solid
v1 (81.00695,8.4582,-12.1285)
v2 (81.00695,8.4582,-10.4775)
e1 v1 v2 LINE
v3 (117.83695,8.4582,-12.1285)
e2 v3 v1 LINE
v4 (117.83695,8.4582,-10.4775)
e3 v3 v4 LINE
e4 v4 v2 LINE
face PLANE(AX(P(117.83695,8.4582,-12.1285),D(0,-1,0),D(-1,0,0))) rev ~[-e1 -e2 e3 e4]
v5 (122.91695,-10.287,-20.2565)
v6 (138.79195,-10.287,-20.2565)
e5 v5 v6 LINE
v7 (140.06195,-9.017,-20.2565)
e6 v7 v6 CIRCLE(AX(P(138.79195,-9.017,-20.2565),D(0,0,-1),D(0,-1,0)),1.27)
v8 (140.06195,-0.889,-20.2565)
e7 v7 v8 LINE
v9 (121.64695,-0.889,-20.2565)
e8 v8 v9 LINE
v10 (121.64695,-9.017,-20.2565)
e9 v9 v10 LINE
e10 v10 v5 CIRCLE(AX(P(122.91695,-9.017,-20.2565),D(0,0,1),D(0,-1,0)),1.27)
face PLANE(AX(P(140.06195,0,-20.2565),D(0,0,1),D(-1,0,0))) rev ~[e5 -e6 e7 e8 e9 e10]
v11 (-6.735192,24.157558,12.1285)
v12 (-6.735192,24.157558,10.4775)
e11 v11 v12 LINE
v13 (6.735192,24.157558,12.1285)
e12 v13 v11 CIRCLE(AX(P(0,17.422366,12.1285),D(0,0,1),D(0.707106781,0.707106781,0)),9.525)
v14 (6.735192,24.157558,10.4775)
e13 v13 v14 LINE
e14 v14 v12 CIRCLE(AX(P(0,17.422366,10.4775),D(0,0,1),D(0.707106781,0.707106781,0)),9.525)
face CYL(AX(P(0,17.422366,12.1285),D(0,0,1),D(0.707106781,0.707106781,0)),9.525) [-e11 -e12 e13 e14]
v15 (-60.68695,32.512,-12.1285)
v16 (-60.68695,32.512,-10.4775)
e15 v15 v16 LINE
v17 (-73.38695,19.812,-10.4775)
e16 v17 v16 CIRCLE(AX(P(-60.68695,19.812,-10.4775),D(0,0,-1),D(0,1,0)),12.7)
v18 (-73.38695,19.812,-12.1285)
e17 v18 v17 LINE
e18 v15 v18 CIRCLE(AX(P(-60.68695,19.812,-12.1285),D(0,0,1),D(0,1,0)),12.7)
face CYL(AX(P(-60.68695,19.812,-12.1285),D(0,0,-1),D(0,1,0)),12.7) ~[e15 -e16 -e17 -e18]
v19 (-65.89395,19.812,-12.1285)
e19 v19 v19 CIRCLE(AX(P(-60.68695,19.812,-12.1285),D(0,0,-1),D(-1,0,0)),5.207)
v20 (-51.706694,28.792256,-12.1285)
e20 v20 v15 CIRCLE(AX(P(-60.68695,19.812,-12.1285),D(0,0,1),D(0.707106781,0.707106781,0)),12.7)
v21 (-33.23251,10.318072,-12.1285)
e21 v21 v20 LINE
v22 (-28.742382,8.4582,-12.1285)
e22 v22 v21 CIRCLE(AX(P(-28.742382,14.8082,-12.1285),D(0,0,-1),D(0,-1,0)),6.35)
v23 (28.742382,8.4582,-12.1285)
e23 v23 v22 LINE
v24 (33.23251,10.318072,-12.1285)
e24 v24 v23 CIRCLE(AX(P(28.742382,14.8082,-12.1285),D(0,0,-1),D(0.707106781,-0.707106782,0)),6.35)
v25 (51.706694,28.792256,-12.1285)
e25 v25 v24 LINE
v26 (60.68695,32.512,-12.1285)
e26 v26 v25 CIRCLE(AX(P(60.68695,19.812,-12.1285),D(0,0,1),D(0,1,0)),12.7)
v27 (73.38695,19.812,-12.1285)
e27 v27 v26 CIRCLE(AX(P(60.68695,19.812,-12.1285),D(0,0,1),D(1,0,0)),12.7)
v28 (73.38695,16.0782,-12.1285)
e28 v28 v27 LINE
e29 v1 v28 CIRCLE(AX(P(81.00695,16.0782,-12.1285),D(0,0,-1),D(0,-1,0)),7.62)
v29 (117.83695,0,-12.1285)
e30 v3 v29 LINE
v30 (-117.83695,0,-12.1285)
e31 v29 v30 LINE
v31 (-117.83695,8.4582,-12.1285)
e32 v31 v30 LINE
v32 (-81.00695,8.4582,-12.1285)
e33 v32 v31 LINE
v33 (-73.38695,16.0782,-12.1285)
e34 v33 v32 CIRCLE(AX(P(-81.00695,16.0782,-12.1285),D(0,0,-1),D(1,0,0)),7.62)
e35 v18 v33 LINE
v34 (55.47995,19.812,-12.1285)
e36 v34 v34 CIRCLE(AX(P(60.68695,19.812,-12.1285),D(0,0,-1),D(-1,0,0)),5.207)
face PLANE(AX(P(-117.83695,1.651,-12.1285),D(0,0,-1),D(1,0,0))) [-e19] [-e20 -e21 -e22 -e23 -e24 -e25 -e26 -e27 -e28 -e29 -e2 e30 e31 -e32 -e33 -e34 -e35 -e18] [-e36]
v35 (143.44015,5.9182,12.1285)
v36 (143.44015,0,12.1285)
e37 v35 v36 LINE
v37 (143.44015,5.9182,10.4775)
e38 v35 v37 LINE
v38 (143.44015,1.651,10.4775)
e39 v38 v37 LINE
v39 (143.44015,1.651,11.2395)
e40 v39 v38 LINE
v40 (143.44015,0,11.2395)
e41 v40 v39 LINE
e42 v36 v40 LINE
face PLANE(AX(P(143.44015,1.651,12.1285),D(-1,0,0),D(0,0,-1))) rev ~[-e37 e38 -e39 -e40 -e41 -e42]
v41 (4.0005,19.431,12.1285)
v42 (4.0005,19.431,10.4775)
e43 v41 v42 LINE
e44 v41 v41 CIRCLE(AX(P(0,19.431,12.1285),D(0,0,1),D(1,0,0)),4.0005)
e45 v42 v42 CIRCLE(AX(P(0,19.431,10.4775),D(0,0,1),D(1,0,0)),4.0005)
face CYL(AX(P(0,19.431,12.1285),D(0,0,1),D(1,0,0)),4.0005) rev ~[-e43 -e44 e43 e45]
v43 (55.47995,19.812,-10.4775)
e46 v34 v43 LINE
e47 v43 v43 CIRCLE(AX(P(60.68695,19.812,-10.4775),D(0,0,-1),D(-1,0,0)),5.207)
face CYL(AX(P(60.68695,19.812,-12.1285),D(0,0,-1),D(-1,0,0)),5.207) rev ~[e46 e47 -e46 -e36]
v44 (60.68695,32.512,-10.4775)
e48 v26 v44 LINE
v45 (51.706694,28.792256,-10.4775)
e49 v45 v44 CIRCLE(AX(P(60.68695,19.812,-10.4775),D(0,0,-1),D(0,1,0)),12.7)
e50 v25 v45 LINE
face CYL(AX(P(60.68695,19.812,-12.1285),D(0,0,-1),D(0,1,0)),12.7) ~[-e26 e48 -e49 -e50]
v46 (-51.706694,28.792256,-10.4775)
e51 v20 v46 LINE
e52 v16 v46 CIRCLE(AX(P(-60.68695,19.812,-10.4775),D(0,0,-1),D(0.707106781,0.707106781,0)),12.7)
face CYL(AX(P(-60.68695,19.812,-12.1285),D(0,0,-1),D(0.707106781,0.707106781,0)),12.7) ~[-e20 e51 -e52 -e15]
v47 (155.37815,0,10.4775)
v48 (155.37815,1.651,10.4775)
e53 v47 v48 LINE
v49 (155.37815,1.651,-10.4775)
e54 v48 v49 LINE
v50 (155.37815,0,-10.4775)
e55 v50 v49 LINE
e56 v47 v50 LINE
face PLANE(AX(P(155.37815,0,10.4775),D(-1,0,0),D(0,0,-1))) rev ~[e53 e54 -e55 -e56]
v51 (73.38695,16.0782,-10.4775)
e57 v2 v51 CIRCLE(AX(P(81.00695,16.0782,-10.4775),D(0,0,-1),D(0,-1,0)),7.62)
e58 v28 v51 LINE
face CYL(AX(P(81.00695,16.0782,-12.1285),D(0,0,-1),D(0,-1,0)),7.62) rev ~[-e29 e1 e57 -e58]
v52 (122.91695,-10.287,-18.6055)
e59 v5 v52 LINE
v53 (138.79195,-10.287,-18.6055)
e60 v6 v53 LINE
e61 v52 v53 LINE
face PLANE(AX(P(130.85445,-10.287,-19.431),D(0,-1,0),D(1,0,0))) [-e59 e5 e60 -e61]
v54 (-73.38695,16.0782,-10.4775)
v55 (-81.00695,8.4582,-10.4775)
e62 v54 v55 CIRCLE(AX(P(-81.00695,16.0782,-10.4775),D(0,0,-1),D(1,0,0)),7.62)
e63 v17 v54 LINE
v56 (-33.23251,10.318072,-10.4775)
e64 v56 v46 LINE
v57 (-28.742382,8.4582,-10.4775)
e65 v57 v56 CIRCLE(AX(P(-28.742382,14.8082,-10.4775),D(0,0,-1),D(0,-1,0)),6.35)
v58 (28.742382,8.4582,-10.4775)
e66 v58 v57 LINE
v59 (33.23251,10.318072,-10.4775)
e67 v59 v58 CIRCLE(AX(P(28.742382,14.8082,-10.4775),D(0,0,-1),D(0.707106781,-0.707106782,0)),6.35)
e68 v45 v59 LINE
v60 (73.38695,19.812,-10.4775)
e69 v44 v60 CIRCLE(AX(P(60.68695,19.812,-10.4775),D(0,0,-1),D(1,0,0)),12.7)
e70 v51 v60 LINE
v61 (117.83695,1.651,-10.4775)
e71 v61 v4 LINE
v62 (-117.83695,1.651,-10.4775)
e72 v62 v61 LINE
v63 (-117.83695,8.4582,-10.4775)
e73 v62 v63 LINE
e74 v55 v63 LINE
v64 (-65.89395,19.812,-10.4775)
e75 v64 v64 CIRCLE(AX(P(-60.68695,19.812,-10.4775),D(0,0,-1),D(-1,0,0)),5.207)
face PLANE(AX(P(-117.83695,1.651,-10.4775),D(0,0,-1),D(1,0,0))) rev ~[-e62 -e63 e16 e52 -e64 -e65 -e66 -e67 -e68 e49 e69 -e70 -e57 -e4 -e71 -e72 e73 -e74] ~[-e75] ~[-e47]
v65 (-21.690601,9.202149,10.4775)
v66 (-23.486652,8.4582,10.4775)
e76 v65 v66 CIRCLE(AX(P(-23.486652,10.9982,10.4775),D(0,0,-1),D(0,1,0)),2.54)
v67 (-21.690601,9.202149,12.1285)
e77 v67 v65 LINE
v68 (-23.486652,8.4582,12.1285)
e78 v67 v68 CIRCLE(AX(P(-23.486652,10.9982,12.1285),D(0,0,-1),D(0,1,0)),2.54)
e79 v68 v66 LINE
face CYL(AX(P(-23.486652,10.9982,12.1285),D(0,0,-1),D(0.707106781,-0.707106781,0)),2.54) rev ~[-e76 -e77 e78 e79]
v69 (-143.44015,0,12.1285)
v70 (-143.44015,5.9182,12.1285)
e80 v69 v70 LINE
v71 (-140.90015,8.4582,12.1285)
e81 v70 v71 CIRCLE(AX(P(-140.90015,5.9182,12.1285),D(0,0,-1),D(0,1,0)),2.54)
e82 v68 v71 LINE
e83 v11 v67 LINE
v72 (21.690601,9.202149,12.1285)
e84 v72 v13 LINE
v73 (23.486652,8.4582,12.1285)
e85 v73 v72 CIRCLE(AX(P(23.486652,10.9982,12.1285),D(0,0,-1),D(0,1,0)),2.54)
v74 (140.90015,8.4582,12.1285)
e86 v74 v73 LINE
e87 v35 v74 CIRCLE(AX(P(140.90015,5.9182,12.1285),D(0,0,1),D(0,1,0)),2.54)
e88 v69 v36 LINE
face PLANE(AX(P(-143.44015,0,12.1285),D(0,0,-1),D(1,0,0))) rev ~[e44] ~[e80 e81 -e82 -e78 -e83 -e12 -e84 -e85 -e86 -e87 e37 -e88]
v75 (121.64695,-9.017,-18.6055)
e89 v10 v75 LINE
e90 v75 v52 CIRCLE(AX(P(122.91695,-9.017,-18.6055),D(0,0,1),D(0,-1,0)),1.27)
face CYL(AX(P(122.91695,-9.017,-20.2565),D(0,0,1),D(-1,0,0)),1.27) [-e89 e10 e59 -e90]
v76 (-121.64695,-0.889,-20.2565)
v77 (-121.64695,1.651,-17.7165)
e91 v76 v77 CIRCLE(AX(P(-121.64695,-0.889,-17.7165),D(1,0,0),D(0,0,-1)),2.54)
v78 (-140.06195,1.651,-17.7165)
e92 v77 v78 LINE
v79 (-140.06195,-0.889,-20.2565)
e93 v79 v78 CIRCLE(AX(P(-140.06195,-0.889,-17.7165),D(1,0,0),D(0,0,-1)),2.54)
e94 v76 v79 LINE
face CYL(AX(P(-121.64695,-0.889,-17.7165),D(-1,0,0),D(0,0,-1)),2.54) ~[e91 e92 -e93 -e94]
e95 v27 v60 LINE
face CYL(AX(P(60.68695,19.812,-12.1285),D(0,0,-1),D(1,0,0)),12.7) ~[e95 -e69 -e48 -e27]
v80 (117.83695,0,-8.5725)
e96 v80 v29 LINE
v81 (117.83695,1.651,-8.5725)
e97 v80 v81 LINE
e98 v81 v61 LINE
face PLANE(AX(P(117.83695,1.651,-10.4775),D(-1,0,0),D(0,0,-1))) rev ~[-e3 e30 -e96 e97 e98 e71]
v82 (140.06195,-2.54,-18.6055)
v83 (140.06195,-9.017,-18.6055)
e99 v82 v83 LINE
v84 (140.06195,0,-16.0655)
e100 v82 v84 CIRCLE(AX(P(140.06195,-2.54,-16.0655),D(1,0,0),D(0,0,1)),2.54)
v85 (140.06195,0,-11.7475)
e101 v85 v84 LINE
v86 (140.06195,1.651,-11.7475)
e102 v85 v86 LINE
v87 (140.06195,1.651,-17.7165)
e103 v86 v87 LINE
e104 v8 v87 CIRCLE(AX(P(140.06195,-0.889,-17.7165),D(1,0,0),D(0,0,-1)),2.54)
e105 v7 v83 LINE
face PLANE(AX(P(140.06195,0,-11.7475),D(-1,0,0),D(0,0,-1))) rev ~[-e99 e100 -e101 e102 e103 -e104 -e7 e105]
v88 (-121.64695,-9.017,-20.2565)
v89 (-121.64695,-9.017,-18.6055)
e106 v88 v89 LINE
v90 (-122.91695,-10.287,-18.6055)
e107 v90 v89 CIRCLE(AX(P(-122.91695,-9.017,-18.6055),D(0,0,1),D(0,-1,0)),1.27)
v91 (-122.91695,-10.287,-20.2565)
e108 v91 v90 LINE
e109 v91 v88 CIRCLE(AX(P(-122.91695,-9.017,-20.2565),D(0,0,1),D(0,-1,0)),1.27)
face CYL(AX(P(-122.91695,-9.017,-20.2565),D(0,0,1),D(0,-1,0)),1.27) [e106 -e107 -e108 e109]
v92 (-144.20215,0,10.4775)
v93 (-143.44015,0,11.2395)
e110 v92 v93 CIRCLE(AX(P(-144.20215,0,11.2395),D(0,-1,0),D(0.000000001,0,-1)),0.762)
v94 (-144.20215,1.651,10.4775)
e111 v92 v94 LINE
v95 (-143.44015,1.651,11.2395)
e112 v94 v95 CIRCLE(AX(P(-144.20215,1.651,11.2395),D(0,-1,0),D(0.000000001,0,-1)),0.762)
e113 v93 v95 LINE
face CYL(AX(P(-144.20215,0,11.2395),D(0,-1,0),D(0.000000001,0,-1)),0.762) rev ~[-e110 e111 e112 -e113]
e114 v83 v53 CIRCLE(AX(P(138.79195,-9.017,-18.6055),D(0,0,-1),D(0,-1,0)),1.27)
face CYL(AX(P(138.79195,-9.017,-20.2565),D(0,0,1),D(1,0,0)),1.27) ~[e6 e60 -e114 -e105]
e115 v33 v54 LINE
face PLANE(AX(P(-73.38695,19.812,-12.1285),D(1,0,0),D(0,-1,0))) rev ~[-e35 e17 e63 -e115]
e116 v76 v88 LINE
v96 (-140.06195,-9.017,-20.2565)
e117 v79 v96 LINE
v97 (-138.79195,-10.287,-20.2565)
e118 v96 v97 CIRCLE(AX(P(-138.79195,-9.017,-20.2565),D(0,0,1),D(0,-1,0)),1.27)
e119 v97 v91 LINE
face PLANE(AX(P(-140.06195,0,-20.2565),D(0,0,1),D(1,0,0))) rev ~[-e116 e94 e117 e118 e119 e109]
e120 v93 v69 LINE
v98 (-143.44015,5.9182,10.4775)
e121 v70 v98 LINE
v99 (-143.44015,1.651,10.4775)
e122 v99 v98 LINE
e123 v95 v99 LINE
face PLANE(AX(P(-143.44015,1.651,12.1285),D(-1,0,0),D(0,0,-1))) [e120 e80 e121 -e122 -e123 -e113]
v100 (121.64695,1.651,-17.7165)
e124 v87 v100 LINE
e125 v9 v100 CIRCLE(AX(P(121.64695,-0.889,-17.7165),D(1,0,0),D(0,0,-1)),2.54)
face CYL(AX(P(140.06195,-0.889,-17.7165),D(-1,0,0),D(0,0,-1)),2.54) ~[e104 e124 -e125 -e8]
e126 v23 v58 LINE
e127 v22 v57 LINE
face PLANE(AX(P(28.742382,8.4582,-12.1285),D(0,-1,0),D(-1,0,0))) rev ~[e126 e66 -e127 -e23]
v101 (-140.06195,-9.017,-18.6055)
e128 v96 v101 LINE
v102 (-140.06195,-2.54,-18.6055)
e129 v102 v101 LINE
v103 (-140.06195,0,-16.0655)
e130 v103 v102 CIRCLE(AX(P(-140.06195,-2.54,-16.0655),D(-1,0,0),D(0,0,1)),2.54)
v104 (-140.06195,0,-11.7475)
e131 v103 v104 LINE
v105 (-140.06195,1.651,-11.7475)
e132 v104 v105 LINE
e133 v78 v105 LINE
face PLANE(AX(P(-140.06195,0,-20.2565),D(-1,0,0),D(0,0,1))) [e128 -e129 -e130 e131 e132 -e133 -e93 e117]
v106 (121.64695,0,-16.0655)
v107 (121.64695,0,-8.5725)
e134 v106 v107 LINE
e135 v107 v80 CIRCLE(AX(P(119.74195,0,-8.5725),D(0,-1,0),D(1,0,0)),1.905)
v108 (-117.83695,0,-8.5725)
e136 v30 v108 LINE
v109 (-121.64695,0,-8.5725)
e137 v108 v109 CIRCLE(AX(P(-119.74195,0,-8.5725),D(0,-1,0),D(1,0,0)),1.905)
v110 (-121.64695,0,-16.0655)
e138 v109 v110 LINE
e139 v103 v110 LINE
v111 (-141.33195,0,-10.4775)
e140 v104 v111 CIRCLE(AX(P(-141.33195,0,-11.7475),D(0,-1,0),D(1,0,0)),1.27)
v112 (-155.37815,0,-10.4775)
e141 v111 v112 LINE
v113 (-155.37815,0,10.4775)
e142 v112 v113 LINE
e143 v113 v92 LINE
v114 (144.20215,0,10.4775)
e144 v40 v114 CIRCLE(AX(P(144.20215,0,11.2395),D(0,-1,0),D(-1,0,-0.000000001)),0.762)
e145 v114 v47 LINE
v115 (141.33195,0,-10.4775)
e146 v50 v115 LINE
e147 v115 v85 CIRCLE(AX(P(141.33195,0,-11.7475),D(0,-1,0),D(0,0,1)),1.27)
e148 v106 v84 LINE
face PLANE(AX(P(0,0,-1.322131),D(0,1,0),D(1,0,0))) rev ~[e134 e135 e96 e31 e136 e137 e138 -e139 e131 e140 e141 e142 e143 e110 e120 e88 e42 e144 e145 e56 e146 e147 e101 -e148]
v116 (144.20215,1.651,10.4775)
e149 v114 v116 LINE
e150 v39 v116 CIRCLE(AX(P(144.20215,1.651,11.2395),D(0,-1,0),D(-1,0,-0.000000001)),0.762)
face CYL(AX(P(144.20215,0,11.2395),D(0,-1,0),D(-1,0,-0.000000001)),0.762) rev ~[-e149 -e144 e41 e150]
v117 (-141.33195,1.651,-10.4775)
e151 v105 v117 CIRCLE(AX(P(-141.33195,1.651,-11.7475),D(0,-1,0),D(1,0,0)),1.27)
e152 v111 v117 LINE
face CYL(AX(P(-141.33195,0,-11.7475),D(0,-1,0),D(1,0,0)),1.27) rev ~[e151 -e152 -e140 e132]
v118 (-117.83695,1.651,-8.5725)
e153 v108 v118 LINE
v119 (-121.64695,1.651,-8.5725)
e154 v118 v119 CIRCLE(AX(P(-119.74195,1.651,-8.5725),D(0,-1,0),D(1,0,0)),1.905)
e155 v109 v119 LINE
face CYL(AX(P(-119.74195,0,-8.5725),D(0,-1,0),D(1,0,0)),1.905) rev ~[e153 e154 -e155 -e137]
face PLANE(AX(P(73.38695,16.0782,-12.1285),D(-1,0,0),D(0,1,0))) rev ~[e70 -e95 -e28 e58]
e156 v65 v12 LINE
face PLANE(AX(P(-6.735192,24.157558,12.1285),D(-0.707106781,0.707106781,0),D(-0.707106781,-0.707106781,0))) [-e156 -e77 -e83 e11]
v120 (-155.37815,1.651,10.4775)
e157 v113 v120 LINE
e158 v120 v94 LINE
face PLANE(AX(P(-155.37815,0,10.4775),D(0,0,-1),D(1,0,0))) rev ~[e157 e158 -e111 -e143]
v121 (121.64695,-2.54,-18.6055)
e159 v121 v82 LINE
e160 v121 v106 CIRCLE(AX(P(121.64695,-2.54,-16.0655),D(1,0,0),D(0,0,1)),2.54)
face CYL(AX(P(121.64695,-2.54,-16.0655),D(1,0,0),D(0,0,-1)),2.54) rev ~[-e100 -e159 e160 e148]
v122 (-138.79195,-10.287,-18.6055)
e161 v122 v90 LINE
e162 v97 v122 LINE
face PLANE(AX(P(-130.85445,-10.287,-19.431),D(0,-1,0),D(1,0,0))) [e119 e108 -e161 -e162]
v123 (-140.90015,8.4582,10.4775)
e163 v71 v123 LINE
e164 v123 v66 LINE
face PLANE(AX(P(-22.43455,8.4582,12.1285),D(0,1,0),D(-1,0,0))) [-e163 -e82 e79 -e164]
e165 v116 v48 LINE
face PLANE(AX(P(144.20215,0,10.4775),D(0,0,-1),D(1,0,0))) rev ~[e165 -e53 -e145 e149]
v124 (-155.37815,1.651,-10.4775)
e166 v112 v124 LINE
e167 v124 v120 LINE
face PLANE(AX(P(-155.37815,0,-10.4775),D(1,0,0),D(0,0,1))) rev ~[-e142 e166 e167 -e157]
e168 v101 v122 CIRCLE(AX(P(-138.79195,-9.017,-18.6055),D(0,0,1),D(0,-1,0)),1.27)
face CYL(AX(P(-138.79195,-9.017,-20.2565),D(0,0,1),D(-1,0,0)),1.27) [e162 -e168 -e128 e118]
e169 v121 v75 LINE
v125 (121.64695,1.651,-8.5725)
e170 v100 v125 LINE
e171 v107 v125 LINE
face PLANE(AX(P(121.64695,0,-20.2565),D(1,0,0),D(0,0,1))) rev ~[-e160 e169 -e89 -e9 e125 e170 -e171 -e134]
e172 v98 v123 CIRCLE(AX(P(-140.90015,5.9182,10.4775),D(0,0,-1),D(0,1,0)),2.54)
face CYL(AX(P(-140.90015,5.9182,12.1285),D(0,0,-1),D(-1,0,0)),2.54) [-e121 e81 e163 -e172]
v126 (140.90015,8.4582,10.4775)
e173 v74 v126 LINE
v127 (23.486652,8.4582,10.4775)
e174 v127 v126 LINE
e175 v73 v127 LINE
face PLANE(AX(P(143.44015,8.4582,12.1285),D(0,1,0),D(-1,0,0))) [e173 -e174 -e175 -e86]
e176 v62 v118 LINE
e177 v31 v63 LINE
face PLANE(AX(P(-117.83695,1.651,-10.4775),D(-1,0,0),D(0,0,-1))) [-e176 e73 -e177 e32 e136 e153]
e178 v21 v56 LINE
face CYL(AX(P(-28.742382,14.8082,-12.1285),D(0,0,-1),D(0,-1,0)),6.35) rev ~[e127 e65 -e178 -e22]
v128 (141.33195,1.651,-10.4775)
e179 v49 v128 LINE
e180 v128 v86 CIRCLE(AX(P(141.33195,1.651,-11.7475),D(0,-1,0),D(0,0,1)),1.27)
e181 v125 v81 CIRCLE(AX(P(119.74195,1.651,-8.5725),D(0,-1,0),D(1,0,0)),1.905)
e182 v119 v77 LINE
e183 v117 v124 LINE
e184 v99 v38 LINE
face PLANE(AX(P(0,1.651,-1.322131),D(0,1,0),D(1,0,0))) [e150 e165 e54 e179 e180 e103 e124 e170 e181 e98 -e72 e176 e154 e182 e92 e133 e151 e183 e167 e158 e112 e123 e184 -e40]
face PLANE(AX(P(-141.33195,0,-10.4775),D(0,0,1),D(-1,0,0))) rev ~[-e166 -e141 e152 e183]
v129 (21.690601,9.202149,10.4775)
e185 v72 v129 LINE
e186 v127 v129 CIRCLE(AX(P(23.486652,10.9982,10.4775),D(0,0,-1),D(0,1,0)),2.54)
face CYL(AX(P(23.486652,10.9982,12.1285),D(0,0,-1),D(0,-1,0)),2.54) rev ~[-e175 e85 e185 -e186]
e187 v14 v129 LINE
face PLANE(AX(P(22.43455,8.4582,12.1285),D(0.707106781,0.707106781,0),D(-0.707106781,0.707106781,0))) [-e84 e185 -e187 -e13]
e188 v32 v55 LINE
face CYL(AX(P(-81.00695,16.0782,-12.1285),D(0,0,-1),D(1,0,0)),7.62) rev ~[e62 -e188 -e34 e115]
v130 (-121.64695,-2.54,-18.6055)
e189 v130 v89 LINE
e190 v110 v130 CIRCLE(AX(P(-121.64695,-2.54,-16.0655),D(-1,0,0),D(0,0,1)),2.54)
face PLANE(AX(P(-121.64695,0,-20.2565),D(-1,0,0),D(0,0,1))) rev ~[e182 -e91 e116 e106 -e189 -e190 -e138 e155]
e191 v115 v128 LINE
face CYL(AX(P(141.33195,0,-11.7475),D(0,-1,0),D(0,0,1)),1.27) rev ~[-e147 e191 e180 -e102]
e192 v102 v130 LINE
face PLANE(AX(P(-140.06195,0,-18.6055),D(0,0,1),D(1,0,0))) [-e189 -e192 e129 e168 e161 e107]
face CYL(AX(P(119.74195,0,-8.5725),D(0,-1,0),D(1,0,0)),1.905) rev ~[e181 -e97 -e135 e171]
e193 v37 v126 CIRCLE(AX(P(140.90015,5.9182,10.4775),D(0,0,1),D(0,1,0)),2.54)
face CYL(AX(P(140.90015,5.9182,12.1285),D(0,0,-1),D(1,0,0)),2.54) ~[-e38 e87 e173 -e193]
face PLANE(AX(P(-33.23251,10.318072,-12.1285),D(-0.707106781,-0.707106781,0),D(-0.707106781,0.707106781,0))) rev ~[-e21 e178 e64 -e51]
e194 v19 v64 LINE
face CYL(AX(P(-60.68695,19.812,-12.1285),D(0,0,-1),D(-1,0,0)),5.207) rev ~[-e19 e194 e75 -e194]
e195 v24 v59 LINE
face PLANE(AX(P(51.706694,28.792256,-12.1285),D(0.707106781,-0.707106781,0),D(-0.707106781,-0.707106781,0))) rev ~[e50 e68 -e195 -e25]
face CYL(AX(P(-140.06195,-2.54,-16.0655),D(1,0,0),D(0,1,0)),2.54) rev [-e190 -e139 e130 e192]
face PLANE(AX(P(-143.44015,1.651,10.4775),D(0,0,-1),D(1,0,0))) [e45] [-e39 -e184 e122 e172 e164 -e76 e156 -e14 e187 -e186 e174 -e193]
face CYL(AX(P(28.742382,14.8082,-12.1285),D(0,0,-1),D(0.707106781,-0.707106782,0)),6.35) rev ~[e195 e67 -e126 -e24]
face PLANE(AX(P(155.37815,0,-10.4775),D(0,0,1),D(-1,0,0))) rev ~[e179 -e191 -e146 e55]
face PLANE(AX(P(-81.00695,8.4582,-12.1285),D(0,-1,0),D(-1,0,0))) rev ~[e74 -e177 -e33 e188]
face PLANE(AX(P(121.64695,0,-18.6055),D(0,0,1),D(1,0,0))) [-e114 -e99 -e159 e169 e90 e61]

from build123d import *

# Parameters (mm, degrees)
BOSS_EXTRUDE1_DEPTH = 1.651
SKETCH2_W           = 18.415
SKETCH2_H           = 1.651
BOSS_EXTRUDE2_DEPTH = 10.287
FILLET1_R           = 2.54
FILLET3_R           = 1.27
SKETCH4_W           = 235.6739
SKETCH4_H           = 1.651
SKETCH4_W_2         = 286.8803
BOSS_EXTRUDE3_DEPTH = 30.861
SKETCH5_R           = 4.0005
CUT_EXTRUDE2_DEPTH  = 2.54
FILLET4_R           = 2.54
SKETCH11_R          = 5.207
CUT_EXTRUDE3_DEPTH  = 7.62


with BuildPart() as part:
    # Sketch1 → Boss-Extrude1 (new body)
    with BuildSketch(Plane(origin=(0, 0, 0), x_dir=(1, 0, 0), z_dir=(0, 1, 0))):
        with BuildLine():
            Line((117.83695, 8.5725), (117.83695, 12.1285))
            Line((117.83695, 12.1285), (117.186124302, 12.1285))
            Line((117.186124302, 12.1285), (-117.186124302, 12.1285))
            Line((-117.186124302, 12.1285), (-117.83695, 12.1285))
            Line((-117.83695, 12.1285), (-117.83695, 8.5725))
            ThreePointArc((-117.83695, 8.5725), (-119.74195, 6.6675), (-121.64695, 8.5725))
            Line((-121.64695, 8.5725), (-121.64695, 12.1285))
            Line((-121.64695, 12.1285), (-121.64695, 20.2565))
            Line((-121.64695, 20.2565), (-140.06195, 20.2565))
            Line((-140.06195, 20.2565), (-140.06195, 12.1285))
            Line((-140.06195, 12.1285), (-140.06195, 11.7475))
            ThreePointArc((-140.06195, 11.7475), (-140.433924388, 10.849474388), (-141.33195, 10.4775))
            Line((-141.33195, 10.4775), (-143.44015, 10.4775))
            Line((-143.44015, 10.4775), (-155.37815, 10.4775))
            Line((-155.37815, 10.4775), (-155.37815, -10.4775))
            Line((-155.37815, -10.4775), (-144.20215, -10.4775))
            ThreePointArc((-144.20215, -10.4775), (-143.663334633, -10.700684633), (-143.44015, -11.2395))
            Line((-143.44015, -11.2395), (-143.44015, -12.1285))
            Line((-143.44015, -12.1285), (143.44015, -12.1285))
            Line((143.44015, -12.1285), (143.44015, -11.2395))
            ThreePointArc((143.44015, -11.2395), (143.663334633, -10.700684633), (144.20215, -10.4775))
            Line((144.20215, -10.4775), (155.37815, -10.4775))
            Line((155.37815, -10.4775), (155.37815, 10.4775))
            Line((155.37815, 10.4775), (143.44015, 10.4775))
            Line((143.44015, 10.4775), (141.33195, 10.4775))
            ThreePointArc((141.33195, 10.4775), (140.433924388, 10.849474388), (140.06195, 11.7475))
            Line((140.06195, 11.7475), (140.06195, 12.1285))
            Line((140.06195, 12.1285), (140.06195, 20.2565))
            Line((140.06195, 20.2565), (121.64695, 20.2565))
            Line((121.64695, 20.2565), (121.64695, 12.1285))
            Line((121.64695, 12.1285), (121.64695, 8.5725))
            ThreePointArc((121.64695, 8.5725), (119.74195, 6.6675), (117.83695, 8.5725))
        make_face()
    extrude(amount=BOSS_EXTRUDE1_DEPTH)

    # Sketch2 → Boss-Extrude2 (add)
    with BuildSketch(Plane.XZ):
        with Locations((-130.85445, -19.431)):
            Rectangle(SKETCH2_W, SKETCH2_H)
        with Locations((130.85445, -19.431)):
            Rectangle(SKETCH2_W, SKETCH2_H)
    extrude(amount=BOSS_EXTRUDE2_DEPTH)

    # Fillet1
    fillet1_edges = [part.edges().sort_by_distance(p)[0] for p in [
        (130.85445, 1.651, -20.2565),
        (-130.85445, 1.651, -20.2565),
        (-130.85445, 0, -18.6055),
        (130.85445, 0, -18.6055),
    ]]
    fillet(fillet1_edges, radius=FILLET1_R)

    # Fillet3
    fillet3_edges = [part.edges().sort_by_distance(p)[0] for p in [
        (-140.06195, -10.287, -19.431),
        (-121.64695, -10.287, -19.431),
        (140.06195, -10.287, -19.431),
        (121.64695, -10.287, -19.431),
    ]]
    fillet(fillet3_edges, radius=FILLET3_R)

    # Sketch4 → Boss-Extrude3 (add)
    with BuildSketch(Plane(origin=(0, 1.651, 0), x_dir=(1, 0, 0), z_dir=(0, 1, 0))):
        with Locations((0, 11.303)):
            Rectangle(SKETCH4_W, SKETCH4_H)
        with Locations((0, -11.303)):
            Rectangle(SKETCH4_W_2, SKETCH4_H)
    extrude(amount=BOSS_EXTRUDE3_DEPTH)

    # Sketch5 → Cut-Extrude2 (cut)
    with BuildSketch(Plane.XY.offset(12.1285)):
        with Locations((0, 19.431)):
            Circle(SKETCH5_R)
        with BuildLine():
            Line((143.44015, 8.4582), (22.43455, 8.4582))
            Line((22.43455, 8.4582), (6.735192091, 24.157557909))
            ThreePointArc((6.735192091, 24.157557909), (0, 26.947365818), (-6.735192091, 24.157557909))
            Line((-6.735192091, 24.157557909), (-22.43455, 8.4582))
            Line((-22.43455, 8.4582), (-143.44015, 8.4582))
            Line((-143.44015, 8.4582), (-143.44015, 32.512))
            Line((-143.44015, 32.512), (143.44015, 32.512))
            Line((143.44015, 32.512), (143.44015, 8.4582))
        make_face()
    extrude(amount=-CUT_EXTRUDE2_DEPTH, mode=Mode.SUBTRACT)

    # Fillet4
    fillet4_edges = [part.edges().sort_by_distance(p)[0] for p in [
        (143.44015, 8.4582, 11.303),
        (22.43455, 8.4582, 11.303),
        (-22.43455, 8.4582, 11.303),
        (-143.44015, 8.4582, 11.303),
    ]]
    fillet(fillet4_edges, radius=FILLET4_R)

    # Sketch11 → Cut-Extrude3 (cut)
    with BuildSketch(Plane(origin=(0, 0, -12.1285), x_dir=(-1, 0, 0), z_dir=(0, 0, -1))):
        with Locations((60.68695, 19.812)):
            Circle(SKETCH11_R)
        with Locations((-60.68695, 19.812)):
            Circle(SKETCH11_R)
        with BuildLine():
            Line((81.00695, 8.4582), (117.83695, 8.4582))
            Line((117.83695, 8.4582), (117.83695, 32.512))
            Line((117.83695, 32.512), (60.68695, 32.512))
            ThreePointArc((60.68695, 32.512), (69.667206121, 28.792256121), (73.38695, 19.812))
            Line((73.38695, 19.812), (73.38695, 16.0782))
            ThreePointArc((73.38695, 16.0782), (75.618796327, 10.690046327), (81.00695, 8.4582))
        make_face()
        with BuildLine():
            Line((-28.742381637, 8.4582), (0, 8.4582))
            Line((0, 8.4582), (28.742381637, 8.4582))
            ThreePointArc((28.742381637, 8.4582), (31.172421432, 8.941564969), (33.232509697, 10.318071939))
            Line((33.232509697, 10.318071939), (51.706693879, 28.792256121))
            ThreePointArc((51.706693879, 28.792256121), (55.826870409, 31.545270063), (60.68695, 32.512))
            Line((60.68695, 32.512), (-60.68695, 32.512))
            ThreePointArc((-60.68695, 32.512), (-55.826870409, 31.545270063), (-51.706693879, 28.792256121))
            Line((-51.706693879, 28.792256121), (-33.232509697, 10.318071939))
            ThreePointArc((-33.232509697, 10.318071939), (-31.172421432, 8.941564969), (-28.742381637, 8.4582))
        make_face()
        with BuildLine():
            Line((-117.83695, 32.512), (-117.83695, 8.4582))
            Line((-117.83695, 8.4582), (-81.00695, 8.4582))
            ThreePointArc((-81.00695, 8.4582), (-75.618796327, 10.690046327), (-73.38695, 16.0782))
            Line((-73.38695, 16.0782), (-73.38695, 19.812))
            ThreePointArc((-73.38695, 19.812), (-69.667206121, 28.792256121), (-60.68695, 32.512))
            Line((-60.68695, 32.512), (-117.83695, 32.512))
        make_face()
    extrude(amount=-CUT_EXTRUDE3_DEPTH, mode=Mode.SUBTRACT)


solid = part.part
